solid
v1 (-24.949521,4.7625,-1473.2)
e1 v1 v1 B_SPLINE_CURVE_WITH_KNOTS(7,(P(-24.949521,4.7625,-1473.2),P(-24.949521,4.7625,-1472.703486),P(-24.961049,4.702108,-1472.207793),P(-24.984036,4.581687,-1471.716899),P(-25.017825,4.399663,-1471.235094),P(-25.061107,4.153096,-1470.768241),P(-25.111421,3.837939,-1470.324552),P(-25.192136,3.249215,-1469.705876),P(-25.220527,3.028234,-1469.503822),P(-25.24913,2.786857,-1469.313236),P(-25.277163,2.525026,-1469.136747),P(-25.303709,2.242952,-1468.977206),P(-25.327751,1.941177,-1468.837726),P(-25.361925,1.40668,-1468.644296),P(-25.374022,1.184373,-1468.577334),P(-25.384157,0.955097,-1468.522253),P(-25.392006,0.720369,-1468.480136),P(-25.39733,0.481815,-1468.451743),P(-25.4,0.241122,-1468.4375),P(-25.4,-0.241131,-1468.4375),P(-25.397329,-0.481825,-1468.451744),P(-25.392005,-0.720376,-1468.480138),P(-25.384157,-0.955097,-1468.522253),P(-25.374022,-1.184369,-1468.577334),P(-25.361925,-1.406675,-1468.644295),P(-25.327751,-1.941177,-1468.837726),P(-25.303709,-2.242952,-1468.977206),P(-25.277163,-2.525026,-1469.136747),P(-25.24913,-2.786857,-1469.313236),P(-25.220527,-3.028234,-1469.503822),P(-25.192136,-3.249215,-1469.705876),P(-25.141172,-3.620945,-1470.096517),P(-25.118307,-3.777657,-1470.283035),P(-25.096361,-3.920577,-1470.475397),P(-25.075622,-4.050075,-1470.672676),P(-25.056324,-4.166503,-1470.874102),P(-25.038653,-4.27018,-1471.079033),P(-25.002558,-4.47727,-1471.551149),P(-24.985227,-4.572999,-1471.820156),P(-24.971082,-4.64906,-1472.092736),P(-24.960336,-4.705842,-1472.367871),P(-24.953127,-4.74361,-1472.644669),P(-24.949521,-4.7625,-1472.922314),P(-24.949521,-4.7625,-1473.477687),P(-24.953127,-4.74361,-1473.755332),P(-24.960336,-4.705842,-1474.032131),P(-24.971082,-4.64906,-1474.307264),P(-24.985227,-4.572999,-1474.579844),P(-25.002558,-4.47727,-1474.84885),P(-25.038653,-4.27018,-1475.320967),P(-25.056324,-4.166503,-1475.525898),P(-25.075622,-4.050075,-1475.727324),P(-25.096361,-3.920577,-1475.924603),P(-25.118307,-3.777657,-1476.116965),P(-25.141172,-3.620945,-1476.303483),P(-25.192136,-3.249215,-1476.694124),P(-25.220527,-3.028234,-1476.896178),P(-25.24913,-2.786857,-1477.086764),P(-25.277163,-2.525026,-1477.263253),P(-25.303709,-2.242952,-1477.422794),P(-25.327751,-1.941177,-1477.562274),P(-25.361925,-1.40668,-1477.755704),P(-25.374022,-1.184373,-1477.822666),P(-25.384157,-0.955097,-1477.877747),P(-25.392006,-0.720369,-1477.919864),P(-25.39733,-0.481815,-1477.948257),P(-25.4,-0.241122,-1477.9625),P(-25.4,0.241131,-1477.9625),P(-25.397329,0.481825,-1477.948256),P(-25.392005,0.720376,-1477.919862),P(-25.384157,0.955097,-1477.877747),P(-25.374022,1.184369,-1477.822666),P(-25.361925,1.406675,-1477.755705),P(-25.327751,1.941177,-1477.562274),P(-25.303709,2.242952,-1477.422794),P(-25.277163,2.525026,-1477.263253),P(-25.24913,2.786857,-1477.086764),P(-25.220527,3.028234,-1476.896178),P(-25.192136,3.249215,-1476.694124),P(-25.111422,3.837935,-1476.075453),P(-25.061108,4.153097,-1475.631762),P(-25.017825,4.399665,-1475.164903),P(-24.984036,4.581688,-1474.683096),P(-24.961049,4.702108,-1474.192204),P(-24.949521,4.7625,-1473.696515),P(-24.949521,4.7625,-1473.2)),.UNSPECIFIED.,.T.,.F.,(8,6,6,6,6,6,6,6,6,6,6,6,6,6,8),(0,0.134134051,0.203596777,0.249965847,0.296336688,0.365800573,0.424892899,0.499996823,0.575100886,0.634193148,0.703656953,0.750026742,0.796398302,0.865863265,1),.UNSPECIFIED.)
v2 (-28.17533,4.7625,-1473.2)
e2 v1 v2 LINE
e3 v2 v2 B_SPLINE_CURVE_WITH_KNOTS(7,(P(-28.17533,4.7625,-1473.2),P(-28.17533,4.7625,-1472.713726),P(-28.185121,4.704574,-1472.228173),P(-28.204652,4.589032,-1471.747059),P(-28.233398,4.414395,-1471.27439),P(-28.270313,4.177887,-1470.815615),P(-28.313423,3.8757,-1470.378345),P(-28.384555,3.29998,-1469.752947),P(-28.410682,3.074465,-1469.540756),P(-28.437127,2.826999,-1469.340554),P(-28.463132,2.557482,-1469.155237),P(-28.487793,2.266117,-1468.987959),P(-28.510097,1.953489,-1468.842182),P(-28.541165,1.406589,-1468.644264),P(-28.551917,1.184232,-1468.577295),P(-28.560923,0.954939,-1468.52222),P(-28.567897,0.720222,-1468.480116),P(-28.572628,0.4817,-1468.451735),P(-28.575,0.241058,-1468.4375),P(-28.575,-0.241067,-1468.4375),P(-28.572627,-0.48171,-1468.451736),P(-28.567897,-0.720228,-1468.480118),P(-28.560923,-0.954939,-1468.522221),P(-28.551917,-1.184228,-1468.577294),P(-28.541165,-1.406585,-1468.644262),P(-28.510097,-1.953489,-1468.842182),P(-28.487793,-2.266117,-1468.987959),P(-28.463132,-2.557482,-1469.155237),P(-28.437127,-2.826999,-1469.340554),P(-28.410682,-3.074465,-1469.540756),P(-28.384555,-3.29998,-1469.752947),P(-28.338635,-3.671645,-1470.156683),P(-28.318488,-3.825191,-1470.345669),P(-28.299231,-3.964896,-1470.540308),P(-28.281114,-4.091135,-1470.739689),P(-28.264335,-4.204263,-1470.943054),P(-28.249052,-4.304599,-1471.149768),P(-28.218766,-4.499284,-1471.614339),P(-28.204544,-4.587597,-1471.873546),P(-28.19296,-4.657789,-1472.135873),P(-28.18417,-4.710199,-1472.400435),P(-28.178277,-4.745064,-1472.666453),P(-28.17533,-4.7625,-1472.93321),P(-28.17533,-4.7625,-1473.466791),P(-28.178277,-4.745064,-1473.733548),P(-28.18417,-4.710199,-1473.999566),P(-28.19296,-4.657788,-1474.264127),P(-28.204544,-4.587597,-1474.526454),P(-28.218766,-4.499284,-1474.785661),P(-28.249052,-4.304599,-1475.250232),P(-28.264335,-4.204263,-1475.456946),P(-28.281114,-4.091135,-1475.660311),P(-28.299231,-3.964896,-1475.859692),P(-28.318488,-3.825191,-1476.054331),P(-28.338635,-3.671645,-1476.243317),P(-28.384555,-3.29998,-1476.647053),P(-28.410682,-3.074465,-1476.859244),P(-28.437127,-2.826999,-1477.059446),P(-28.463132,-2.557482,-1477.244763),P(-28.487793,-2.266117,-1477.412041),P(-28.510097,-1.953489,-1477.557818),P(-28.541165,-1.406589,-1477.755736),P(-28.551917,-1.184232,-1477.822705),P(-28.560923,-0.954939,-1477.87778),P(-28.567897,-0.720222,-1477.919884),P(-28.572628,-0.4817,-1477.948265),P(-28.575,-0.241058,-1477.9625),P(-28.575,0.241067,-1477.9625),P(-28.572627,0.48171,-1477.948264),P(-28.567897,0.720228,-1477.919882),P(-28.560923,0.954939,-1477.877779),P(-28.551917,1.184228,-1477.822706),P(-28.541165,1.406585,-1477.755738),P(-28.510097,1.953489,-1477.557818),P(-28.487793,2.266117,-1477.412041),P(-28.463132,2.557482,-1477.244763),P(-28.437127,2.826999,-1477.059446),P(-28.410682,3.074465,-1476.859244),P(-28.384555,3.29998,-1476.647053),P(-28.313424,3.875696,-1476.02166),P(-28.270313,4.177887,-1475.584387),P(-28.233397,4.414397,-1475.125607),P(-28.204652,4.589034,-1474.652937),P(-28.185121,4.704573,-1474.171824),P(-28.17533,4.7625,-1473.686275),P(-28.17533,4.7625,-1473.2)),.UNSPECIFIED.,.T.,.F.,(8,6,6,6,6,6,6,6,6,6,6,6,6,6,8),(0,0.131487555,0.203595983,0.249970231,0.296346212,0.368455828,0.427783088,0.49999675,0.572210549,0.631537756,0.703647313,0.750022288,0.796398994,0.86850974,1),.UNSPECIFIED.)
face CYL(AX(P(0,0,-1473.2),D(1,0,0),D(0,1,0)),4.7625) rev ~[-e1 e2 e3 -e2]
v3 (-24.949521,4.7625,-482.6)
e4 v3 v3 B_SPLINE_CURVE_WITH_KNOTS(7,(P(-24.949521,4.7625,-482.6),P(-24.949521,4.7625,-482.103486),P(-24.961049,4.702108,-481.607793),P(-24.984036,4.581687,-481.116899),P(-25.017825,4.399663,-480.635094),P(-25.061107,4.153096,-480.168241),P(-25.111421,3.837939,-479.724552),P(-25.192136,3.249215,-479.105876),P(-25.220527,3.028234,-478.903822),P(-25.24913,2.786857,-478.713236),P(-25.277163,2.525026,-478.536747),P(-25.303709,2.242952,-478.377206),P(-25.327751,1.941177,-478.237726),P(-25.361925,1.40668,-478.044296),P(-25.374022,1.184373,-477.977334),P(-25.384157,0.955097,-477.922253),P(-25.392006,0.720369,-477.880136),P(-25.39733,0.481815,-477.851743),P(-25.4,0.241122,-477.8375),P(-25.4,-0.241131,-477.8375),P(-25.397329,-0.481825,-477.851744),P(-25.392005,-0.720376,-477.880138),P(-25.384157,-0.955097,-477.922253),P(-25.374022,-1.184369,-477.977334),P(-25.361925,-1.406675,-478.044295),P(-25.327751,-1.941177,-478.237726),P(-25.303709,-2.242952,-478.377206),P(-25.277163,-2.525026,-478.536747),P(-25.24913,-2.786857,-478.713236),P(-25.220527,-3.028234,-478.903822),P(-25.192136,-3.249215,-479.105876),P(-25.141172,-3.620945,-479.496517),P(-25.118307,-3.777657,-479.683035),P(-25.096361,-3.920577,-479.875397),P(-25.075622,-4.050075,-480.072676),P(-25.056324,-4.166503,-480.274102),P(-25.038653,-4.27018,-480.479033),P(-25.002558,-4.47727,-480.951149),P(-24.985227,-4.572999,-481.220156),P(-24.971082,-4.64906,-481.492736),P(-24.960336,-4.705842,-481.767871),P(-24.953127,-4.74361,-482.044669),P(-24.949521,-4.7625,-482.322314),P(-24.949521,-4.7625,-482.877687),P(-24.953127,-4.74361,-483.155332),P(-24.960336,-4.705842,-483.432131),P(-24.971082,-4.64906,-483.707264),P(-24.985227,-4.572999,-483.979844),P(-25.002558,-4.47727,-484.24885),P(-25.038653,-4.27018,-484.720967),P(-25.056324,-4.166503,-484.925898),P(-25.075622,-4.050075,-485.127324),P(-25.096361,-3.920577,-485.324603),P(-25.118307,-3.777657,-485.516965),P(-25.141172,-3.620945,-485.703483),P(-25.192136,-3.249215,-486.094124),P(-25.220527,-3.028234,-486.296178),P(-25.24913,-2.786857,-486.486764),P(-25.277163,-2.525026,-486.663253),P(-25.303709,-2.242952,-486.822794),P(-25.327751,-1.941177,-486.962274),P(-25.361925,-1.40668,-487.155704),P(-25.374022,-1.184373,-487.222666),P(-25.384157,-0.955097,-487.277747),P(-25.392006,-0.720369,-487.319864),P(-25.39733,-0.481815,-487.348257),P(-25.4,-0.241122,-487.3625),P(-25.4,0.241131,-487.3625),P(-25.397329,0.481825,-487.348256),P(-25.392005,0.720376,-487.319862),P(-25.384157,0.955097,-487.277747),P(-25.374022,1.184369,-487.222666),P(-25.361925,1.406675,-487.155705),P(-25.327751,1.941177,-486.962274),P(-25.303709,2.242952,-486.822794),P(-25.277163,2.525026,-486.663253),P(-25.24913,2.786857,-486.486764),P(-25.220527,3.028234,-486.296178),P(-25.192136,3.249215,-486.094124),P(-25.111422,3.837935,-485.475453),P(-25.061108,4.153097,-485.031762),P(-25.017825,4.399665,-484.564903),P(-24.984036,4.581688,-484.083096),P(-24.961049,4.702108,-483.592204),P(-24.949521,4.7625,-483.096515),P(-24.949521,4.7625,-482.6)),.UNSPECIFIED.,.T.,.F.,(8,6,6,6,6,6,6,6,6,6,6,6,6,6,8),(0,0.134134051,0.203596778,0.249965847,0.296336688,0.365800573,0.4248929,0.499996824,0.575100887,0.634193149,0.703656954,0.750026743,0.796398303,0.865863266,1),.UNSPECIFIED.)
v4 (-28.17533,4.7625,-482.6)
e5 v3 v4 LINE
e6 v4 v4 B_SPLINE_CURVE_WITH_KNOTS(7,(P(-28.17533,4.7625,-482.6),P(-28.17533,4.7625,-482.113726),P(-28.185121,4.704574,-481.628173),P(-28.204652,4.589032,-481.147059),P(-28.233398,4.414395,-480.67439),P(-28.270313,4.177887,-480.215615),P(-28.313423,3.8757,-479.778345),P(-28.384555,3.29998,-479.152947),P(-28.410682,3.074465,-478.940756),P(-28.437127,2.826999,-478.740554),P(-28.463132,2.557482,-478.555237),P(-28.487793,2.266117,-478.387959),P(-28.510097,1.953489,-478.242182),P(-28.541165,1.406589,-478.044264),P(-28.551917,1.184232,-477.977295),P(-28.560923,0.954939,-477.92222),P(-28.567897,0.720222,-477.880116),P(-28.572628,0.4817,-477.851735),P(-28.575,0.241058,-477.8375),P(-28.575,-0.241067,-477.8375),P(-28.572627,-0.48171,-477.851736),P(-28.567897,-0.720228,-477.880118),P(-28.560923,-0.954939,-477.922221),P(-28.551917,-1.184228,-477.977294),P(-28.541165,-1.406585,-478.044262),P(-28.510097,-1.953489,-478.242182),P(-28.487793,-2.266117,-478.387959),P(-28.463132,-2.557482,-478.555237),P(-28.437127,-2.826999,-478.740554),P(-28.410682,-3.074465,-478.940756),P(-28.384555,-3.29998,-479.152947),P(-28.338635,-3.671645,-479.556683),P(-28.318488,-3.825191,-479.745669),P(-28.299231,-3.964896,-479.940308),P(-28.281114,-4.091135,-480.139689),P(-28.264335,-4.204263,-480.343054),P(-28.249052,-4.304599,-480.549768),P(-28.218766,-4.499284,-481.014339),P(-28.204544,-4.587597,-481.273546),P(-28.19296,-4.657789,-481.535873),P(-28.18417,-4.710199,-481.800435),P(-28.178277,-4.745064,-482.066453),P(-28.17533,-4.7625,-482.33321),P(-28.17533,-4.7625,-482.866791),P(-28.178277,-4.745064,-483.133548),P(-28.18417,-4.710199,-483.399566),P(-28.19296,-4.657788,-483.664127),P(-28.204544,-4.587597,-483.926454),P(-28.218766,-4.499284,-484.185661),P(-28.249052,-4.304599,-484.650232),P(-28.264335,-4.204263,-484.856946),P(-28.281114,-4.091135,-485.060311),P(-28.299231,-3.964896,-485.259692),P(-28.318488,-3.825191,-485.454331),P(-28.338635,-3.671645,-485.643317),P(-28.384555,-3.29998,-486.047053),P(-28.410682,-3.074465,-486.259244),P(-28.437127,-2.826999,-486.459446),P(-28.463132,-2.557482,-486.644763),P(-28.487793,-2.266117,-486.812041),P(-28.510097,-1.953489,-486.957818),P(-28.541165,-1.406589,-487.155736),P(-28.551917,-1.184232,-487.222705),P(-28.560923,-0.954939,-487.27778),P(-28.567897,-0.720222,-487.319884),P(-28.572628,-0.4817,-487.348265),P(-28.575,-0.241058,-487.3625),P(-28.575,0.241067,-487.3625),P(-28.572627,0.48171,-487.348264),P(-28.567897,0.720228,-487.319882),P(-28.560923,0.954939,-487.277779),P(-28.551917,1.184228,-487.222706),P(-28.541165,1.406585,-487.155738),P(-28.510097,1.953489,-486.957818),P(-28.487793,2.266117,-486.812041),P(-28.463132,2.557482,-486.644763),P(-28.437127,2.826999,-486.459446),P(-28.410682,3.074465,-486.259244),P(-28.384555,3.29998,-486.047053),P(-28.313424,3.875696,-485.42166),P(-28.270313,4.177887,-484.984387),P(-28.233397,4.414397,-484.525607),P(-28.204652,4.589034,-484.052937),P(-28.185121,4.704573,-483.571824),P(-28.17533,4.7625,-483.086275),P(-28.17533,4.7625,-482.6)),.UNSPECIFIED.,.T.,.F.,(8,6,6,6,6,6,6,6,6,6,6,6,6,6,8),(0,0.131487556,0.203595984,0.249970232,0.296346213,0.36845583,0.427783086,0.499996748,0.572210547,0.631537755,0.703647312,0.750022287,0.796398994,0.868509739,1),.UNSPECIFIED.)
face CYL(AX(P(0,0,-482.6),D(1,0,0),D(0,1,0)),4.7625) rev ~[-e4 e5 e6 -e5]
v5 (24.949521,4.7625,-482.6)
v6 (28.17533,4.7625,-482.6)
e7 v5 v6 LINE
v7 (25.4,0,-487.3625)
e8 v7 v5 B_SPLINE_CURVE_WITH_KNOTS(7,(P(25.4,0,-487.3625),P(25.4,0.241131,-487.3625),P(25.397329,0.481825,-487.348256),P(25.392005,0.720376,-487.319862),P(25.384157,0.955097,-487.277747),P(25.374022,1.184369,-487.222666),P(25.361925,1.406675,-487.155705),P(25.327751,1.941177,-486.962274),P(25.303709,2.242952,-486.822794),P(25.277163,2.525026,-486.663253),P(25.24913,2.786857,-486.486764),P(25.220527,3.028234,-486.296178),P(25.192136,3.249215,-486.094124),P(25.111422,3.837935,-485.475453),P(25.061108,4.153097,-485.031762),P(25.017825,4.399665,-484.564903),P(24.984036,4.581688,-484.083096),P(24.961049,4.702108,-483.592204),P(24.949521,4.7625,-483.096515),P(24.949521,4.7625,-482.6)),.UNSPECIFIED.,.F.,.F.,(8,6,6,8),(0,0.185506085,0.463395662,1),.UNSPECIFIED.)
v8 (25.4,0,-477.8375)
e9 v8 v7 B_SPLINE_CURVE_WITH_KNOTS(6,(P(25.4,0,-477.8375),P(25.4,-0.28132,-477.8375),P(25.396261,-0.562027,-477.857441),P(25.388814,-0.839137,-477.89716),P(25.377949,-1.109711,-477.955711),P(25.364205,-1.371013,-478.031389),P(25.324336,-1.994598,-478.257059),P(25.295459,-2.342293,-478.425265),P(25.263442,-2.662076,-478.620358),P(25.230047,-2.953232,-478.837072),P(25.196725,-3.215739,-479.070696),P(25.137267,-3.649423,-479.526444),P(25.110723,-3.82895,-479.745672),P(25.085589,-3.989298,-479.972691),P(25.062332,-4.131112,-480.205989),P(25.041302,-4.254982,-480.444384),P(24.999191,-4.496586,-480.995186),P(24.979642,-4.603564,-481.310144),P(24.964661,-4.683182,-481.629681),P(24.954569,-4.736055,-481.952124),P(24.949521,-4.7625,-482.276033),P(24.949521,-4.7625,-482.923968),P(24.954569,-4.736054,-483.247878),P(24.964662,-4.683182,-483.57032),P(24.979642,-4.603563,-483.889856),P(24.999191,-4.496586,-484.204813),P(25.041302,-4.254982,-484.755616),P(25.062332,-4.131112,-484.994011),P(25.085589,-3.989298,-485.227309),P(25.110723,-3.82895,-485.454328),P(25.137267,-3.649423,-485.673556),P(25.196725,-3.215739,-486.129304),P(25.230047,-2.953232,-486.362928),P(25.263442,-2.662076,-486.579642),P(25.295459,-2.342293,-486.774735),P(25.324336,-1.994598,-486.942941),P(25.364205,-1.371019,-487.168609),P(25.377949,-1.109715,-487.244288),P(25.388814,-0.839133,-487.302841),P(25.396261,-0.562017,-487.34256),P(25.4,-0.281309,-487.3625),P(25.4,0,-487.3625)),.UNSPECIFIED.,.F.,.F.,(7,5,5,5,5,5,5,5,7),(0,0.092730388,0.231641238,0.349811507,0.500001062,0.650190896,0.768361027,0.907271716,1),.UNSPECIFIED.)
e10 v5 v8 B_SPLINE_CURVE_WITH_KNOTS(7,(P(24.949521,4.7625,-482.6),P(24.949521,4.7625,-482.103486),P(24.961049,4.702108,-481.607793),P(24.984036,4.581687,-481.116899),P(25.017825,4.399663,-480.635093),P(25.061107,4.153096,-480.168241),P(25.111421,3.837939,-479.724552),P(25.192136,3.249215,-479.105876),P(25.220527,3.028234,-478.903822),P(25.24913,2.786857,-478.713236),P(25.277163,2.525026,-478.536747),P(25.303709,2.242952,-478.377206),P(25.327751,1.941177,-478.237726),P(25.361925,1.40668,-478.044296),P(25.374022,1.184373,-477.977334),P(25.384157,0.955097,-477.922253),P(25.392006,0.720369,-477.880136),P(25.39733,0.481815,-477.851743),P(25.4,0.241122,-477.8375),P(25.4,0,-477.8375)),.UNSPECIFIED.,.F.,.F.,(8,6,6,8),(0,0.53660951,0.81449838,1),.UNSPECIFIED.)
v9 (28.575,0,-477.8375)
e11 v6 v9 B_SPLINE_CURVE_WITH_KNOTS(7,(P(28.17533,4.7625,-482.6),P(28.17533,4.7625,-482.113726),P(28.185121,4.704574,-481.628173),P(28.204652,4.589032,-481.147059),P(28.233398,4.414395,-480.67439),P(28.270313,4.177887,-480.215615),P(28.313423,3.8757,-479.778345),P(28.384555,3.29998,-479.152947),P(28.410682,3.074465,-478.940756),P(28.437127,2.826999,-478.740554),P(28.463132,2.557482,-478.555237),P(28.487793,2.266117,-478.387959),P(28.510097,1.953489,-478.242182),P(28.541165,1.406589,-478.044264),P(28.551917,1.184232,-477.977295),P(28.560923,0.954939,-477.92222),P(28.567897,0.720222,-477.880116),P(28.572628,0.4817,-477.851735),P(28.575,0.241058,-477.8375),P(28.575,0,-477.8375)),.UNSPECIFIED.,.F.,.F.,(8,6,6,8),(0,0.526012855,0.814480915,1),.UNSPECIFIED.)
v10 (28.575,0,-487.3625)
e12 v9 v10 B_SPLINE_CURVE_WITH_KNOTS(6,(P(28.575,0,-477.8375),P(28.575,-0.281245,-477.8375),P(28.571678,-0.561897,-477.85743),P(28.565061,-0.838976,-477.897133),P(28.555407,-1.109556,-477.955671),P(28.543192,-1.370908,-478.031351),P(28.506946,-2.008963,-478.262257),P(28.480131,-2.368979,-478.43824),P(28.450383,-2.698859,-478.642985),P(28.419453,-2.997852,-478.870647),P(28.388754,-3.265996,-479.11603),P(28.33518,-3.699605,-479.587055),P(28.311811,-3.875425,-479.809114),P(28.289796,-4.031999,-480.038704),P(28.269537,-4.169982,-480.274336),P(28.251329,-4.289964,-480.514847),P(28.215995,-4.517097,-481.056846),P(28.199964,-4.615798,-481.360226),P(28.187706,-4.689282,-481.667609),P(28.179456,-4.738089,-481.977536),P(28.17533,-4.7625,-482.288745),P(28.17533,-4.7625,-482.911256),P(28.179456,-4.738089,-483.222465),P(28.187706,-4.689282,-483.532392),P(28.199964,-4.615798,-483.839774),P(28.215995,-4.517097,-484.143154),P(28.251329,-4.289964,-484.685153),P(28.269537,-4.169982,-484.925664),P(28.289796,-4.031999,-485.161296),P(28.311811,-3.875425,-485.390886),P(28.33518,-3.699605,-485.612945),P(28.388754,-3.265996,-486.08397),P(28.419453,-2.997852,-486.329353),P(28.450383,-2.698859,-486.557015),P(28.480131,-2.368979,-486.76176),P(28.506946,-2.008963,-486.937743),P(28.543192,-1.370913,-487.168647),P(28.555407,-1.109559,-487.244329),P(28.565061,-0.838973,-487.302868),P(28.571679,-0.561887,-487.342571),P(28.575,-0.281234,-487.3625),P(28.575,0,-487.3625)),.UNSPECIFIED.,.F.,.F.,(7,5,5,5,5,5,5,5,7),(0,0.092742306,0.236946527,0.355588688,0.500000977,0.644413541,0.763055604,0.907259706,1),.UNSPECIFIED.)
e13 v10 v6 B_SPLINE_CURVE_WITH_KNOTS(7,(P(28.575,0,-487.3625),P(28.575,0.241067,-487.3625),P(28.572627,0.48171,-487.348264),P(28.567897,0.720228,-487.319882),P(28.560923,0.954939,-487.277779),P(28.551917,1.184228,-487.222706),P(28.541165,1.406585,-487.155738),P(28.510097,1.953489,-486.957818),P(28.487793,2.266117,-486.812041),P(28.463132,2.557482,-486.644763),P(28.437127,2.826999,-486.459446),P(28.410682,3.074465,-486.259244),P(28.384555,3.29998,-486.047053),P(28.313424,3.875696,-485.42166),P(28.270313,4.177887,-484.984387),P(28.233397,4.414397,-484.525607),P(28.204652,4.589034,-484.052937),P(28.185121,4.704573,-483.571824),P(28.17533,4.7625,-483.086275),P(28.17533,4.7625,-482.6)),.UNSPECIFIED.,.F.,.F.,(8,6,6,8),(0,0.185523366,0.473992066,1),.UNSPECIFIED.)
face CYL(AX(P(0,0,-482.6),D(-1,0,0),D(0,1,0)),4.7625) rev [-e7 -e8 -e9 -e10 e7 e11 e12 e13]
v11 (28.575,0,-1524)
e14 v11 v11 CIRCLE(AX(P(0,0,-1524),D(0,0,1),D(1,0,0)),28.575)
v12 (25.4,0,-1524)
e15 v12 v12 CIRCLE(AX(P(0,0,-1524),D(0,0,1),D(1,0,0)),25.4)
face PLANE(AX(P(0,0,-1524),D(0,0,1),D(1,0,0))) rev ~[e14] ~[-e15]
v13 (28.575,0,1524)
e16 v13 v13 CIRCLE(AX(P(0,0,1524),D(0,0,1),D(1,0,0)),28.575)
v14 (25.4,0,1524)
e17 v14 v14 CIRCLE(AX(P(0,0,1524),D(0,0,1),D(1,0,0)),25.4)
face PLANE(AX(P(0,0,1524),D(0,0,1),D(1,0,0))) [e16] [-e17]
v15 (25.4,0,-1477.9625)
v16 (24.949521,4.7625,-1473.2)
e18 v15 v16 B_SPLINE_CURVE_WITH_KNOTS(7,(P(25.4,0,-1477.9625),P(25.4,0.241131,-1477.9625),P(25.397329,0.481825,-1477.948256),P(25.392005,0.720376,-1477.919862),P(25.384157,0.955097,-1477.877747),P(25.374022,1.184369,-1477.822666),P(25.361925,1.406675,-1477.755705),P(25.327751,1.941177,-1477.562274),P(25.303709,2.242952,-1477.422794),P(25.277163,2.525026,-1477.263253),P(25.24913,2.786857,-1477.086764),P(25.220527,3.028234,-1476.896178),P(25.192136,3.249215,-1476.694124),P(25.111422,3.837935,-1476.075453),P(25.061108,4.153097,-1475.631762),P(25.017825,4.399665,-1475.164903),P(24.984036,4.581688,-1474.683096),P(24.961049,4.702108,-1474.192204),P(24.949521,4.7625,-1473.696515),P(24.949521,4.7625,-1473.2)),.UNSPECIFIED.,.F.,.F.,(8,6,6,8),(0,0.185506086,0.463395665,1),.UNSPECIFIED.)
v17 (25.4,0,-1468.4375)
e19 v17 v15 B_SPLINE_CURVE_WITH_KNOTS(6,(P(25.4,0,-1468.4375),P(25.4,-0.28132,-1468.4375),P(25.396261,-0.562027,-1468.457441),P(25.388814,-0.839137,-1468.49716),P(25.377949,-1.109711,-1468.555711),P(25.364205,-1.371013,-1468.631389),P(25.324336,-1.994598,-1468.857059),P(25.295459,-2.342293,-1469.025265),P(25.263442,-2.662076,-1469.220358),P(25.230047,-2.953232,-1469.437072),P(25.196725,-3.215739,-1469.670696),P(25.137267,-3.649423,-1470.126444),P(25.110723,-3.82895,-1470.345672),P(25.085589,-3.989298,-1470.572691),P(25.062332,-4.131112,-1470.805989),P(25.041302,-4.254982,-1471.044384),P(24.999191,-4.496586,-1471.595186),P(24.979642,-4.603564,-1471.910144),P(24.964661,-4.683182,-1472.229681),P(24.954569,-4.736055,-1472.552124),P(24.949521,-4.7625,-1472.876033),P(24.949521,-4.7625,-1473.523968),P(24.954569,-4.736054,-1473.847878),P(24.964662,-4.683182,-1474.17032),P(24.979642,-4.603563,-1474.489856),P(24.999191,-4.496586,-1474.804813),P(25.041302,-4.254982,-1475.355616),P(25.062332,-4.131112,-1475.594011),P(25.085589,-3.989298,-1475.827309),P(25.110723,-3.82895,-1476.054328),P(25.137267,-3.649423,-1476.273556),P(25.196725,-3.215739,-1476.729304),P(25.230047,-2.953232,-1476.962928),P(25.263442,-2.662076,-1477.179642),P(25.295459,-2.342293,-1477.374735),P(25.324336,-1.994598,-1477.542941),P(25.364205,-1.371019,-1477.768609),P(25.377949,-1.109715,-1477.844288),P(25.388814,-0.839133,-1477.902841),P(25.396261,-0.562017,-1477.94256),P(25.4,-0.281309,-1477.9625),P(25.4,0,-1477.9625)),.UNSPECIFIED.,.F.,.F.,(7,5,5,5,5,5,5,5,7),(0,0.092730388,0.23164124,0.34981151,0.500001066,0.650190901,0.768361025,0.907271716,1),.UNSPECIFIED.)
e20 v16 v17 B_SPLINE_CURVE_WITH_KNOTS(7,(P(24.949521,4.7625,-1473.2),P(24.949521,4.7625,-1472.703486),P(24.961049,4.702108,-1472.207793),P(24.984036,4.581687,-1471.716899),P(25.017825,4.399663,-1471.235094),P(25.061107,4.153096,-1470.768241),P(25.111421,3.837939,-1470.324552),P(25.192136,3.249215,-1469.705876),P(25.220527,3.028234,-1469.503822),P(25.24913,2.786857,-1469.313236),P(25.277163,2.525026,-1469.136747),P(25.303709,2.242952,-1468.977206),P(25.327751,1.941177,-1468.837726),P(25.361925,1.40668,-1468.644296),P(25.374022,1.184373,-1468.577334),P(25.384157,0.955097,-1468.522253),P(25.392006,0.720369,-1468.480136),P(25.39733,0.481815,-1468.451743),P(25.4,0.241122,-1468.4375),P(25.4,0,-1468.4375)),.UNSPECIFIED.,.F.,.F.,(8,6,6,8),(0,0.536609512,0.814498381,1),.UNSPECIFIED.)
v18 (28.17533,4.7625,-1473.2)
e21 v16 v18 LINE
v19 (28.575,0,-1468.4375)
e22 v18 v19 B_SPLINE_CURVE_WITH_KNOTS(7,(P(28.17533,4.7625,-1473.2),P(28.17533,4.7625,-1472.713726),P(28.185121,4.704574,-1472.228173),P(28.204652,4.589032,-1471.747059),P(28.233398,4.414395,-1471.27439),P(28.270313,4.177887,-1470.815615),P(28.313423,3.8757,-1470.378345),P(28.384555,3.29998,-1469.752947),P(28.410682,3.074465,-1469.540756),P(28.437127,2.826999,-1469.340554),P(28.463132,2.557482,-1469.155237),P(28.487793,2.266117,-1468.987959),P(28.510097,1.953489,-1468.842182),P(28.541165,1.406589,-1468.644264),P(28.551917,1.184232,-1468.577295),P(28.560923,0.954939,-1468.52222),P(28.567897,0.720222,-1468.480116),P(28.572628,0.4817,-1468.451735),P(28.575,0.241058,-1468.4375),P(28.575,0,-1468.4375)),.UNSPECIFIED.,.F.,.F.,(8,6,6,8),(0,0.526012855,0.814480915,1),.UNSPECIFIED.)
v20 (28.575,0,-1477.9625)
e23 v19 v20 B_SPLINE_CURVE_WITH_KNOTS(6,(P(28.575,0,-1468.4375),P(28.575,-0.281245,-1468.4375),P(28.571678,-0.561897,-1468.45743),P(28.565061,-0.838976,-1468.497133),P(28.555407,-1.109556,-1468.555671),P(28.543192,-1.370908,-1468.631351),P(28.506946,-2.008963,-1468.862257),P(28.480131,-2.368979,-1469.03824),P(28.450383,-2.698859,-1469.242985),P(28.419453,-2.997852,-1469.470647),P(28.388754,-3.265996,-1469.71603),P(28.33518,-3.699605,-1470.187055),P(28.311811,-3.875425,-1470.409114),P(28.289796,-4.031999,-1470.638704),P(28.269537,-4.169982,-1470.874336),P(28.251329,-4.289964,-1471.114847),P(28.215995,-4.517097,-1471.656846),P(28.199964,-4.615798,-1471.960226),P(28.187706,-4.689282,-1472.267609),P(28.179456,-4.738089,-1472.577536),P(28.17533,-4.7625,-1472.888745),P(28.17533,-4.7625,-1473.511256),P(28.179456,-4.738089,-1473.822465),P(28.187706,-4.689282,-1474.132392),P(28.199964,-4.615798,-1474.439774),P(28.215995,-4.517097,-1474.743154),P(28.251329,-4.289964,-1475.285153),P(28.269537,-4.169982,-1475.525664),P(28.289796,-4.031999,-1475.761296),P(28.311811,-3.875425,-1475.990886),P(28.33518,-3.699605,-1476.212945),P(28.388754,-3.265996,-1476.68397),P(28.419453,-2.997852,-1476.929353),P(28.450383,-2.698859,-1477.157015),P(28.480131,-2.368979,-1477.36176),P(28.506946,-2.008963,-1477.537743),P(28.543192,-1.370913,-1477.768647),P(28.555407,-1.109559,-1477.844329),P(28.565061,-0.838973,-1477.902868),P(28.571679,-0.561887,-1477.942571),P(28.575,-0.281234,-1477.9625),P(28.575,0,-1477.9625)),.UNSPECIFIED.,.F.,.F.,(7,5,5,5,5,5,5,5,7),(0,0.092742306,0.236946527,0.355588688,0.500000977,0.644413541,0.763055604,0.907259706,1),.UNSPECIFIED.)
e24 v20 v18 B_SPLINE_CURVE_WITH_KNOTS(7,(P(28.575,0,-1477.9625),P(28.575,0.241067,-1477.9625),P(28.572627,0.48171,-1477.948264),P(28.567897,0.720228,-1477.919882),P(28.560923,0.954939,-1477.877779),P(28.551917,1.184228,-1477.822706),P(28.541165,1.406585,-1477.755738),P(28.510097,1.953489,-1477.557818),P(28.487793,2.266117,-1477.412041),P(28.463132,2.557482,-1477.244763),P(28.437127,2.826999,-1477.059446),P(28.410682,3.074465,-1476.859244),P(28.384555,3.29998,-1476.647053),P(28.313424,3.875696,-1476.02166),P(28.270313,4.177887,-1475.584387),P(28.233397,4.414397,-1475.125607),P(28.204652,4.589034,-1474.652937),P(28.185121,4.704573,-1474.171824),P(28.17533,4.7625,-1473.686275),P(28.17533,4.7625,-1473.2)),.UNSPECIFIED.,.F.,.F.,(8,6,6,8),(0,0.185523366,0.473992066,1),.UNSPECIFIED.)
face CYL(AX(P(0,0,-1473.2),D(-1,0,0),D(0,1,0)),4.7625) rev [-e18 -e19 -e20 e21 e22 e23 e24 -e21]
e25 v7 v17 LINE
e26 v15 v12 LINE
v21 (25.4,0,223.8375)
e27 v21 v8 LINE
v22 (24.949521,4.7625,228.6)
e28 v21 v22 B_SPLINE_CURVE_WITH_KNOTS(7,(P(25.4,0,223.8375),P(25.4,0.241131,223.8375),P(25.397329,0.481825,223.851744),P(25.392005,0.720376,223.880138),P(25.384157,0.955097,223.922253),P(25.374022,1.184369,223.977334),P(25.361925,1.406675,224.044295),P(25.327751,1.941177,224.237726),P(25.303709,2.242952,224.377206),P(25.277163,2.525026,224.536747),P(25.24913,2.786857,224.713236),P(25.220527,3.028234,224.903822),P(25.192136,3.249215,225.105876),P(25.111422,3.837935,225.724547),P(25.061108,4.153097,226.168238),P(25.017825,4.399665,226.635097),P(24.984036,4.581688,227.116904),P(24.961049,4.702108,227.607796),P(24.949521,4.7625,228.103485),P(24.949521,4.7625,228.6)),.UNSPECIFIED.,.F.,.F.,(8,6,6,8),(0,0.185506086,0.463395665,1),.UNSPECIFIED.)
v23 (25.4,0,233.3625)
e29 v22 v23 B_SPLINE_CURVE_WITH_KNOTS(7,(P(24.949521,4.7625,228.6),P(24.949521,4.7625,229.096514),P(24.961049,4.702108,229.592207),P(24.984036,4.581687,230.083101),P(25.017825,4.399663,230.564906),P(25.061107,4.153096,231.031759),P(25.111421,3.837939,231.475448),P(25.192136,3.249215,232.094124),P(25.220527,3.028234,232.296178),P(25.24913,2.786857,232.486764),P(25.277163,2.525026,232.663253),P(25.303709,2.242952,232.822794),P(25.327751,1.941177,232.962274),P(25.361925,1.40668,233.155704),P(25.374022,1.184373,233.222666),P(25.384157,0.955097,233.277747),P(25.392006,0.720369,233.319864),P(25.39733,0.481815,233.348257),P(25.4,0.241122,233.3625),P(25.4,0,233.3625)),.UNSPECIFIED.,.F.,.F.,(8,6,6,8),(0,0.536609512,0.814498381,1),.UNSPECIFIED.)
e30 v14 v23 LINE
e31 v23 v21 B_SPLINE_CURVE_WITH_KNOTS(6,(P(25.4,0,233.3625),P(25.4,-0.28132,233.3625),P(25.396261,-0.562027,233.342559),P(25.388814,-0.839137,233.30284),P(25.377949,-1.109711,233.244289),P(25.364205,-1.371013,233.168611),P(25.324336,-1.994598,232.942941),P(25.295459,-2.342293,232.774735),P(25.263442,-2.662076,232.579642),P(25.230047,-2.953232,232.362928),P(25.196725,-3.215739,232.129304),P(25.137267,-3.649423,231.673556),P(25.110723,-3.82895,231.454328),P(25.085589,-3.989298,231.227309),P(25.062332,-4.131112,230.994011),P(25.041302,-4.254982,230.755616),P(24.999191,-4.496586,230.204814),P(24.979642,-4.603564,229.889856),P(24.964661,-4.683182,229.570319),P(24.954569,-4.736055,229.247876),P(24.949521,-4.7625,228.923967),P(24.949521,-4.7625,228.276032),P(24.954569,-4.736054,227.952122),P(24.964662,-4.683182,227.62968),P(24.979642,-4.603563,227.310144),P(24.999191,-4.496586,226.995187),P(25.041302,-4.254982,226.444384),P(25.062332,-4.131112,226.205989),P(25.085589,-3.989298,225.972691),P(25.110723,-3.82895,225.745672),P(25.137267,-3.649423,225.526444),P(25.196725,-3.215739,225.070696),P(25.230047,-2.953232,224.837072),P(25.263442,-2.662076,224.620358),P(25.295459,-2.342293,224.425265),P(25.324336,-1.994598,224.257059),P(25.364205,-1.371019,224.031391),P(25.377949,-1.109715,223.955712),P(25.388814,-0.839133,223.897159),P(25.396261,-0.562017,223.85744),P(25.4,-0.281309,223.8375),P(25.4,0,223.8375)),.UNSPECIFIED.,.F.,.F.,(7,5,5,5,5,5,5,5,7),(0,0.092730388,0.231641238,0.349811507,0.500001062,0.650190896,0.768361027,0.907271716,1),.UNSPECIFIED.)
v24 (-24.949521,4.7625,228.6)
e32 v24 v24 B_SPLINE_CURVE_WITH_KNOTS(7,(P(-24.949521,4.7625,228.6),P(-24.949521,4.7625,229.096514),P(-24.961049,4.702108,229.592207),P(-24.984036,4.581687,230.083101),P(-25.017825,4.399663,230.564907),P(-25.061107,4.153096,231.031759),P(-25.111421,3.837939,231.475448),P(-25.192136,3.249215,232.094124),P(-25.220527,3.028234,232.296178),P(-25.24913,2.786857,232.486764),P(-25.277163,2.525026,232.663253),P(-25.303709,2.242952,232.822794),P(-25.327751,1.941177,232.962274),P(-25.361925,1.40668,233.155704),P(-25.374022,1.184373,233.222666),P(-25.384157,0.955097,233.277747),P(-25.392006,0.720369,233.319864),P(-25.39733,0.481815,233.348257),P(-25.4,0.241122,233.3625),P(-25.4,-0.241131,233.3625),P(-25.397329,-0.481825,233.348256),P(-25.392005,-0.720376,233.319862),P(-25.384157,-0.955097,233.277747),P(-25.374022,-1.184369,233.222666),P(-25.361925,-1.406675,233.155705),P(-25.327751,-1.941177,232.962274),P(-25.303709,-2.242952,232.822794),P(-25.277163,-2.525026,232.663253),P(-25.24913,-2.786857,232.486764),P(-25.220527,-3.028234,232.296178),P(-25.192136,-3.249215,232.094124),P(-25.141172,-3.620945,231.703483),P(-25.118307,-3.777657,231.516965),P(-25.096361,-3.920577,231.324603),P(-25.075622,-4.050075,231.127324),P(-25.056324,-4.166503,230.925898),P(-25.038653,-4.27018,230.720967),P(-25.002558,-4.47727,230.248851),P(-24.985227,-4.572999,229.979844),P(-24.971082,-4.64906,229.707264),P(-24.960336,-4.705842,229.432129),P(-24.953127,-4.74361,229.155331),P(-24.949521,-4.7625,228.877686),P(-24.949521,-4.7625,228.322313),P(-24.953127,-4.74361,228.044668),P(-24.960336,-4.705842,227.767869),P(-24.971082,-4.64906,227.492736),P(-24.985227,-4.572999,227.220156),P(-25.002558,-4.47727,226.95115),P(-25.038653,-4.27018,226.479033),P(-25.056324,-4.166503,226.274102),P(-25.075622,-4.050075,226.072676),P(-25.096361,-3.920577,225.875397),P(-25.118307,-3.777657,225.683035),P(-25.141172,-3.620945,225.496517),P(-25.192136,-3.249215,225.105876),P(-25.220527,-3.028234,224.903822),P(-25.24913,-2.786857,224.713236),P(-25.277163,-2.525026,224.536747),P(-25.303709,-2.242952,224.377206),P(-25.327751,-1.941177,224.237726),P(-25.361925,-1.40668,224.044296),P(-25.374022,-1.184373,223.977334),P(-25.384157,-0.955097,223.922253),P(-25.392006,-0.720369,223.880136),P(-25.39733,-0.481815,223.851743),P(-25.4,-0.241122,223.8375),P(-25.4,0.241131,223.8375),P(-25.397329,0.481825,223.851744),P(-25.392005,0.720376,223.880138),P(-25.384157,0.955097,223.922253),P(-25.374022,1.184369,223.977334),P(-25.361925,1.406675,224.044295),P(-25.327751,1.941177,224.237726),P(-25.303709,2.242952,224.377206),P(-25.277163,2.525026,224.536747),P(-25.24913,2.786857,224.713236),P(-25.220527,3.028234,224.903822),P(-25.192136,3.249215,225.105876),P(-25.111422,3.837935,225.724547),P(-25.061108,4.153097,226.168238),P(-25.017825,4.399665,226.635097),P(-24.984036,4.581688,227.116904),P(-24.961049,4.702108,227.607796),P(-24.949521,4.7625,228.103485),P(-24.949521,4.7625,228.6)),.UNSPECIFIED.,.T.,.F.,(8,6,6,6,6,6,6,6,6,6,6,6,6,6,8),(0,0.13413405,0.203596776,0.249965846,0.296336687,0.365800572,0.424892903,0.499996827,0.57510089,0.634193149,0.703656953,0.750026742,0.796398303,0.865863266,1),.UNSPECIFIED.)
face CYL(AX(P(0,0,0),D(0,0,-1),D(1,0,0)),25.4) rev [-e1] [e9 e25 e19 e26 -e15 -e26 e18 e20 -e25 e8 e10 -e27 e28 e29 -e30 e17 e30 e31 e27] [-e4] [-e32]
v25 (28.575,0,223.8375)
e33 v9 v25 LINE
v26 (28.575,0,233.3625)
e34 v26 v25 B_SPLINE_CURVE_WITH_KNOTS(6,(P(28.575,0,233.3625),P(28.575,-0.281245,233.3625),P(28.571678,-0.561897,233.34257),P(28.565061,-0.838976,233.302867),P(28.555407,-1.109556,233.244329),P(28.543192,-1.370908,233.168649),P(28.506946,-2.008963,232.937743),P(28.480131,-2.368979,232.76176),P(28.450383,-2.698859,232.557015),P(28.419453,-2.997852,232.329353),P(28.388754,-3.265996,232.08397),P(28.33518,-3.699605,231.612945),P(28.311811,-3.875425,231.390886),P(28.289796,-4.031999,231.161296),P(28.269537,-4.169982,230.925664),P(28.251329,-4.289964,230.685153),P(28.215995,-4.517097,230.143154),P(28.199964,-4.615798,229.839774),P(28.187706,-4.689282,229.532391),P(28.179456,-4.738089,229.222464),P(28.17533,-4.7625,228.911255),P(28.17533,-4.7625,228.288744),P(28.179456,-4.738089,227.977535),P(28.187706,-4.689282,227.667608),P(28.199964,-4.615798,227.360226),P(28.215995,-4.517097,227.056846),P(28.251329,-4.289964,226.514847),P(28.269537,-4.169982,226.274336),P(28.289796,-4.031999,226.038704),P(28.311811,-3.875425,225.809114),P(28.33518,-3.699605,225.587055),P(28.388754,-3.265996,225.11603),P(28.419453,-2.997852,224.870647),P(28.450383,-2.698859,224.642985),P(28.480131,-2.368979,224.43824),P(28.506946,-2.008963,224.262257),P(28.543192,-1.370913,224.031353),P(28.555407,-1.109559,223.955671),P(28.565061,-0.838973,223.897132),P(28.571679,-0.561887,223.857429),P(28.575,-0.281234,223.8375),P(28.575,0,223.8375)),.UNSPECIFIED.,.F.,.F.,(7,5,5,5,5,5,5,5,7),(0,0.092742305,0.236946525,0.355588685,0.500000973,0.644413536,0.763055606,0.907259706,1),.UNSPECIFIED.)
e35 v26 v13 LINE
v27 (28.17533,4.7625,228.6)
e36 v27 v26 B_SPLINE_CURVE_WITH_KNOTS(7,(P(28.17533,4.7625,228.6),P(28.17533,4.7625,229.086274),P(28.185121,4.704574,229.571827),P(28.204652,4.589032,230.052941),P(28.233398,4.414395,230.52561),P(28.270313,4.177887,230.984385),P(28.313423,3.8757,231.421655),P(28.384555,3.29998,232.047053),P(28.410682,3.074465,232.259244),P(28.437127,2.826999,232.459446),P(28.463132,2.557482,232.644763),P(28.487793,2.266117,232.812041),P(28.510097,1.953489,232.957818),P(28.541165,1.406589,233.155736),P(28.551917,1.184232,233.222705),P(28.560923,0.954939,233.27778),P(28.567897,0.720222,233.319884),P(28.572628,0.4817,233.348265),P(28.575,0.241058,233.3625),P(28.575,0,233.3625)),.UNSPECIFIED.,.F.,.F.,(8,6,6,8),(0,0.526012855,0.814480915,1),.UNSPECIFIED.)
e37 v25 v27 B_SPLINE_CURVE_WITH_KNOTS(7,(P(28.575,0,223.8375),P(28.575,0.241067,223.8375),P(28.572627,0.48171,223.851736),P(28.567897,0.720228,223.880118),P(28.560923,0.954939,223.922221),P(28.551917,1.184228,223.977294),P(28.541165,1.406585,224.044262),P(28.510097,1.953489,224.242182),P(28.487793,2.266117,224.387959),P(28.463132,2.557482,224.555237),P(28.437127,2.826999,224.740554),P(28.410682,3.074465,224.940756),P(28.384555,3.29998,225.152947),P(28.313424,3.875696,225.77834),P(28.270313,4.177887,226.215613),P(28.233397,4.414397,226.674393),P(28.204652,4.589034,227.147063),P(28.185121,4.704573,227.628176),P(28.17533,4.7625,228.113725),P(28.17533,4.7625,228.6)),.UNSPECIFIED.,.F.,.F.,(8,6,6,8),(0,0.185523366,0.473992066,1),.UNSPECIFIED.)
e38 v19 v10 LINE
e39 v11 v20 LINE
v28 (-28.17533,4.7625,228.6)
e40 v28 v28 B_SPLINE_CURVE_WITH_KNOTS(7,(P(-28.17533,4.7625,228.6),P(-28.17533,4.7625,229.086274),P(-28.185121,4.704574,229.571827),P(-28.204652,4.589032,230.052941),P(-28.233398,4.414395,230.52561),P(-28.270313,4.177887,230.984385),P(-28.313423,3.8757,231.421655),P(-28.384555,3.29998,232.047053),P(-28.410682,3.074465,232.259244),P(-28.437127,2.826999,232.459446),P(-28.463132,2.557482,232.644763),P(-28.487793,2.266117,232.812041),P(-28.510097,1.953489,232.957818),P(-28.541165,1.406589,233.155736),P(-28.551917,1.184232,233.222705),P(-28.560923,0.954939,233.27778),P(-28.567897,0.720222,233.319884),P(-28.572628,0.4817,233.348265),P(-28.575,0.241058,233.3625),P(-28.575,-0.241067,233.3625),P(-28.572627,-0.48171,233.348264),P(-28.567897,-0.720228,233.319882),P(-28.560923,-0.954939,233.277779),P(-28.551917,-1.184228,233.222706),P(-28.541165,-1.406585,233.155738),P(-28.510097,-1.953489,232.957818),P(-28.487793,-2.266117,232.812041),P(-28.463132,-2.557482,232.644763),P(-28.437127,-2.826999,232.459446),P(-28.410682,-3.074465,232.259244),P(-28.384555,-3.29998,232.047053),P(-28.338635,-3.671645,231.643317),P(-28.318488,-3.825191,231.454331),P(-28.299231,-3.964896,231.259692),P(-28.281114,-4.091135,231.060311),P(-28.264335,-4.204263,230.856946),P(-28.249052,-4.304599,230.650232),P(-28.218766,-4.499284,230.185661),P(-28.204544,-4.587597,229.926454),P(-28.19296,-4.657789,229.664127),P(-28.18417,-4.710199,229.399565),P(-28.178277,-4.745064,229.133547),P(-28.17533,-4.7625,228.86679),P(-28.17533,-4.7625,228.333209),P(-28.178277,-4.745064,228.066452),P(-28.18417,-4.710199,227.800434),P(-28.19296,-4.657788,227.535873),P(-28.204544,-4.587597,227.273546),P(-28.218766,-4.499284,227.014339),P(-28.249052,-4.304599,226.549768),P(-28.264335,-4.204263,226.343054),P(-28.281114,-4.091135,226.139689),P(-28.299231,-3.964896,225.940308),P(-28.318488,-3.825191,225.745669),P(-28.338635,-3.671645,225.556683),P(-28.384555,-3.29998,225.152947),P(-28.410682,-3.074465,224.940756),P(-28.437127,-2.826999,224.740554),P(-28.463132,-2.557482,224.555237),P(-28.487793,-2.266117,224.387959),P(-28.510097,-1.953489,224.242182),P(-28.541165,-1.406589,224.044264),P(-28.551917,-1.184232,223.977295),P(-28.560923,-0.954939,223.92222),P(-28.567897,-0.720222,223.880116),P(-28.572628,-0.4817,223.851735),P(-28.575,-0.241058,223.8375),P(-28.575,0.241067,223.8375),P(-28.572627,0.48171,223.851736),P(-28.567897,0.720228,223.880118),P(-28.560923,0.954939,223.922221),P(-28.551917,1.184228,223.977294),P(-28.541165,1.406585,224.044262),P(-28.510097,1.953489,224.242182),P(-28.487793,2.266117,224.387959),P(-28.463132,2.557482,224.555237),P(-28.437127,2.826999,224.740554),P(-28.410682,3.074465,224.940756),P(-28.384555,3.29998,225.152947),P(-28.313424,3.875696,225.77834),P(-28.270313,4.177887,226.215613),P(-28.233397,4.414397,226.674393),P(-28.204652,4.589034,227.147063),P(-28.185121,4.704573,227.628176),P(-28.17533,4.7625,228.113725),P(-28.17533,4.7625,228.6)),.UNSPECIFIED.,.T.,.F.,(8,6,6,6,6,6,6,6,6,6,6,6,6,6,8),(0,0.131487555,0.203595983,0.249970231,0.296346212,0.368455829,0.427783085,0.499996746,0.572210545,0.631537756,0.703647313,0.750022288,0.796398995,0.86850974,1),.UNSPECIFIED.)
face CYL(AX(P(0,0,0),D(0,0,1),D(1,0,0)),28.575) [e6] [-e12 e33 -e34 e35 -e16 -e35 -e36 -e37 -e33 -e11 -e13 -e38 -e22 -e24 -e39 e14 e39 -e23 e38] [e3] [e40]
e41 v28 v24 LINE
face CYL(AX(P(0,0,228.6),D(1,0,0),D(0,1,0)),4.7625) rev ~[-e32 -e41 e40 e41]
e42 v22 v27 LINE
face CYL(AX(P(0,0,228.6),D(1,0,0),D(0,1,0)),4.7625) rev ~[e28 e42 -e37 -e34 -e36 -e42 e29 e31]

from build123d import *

# Parameters (mm, degrees)
F0_R     = 28.575
F0_R_2   = 25.4
F1_DEPTH = 1524
F2_R     = 4.7625
F3_DEPTH = 50.8


with BuildPart() as f1:
    # F0 (on Top) → F1 (new body, symmetric)
    with BuildSketch(Plane.XY):
        Circle(F0_R)
        Circle(F0_R_2, mode=Mode.SUBTRACT)
    extrude(amount=F1_DEPTH, both=True)

    # F2 (on Right) → F3 (cut, symmetric)
    with BuildSketch(Plane.YZ):
        with Locations((0, -1473.2)):
            Circle(F2_R)
        with Locations((0, -482.6)):
            Circle(F2_R)
        with Locations((0, 228.6)):
            Circle(F2_R)
    extrude(amount=F3_DEPTH, both=True, mode=Mode.SUBTRACT)


solid = f1.part
